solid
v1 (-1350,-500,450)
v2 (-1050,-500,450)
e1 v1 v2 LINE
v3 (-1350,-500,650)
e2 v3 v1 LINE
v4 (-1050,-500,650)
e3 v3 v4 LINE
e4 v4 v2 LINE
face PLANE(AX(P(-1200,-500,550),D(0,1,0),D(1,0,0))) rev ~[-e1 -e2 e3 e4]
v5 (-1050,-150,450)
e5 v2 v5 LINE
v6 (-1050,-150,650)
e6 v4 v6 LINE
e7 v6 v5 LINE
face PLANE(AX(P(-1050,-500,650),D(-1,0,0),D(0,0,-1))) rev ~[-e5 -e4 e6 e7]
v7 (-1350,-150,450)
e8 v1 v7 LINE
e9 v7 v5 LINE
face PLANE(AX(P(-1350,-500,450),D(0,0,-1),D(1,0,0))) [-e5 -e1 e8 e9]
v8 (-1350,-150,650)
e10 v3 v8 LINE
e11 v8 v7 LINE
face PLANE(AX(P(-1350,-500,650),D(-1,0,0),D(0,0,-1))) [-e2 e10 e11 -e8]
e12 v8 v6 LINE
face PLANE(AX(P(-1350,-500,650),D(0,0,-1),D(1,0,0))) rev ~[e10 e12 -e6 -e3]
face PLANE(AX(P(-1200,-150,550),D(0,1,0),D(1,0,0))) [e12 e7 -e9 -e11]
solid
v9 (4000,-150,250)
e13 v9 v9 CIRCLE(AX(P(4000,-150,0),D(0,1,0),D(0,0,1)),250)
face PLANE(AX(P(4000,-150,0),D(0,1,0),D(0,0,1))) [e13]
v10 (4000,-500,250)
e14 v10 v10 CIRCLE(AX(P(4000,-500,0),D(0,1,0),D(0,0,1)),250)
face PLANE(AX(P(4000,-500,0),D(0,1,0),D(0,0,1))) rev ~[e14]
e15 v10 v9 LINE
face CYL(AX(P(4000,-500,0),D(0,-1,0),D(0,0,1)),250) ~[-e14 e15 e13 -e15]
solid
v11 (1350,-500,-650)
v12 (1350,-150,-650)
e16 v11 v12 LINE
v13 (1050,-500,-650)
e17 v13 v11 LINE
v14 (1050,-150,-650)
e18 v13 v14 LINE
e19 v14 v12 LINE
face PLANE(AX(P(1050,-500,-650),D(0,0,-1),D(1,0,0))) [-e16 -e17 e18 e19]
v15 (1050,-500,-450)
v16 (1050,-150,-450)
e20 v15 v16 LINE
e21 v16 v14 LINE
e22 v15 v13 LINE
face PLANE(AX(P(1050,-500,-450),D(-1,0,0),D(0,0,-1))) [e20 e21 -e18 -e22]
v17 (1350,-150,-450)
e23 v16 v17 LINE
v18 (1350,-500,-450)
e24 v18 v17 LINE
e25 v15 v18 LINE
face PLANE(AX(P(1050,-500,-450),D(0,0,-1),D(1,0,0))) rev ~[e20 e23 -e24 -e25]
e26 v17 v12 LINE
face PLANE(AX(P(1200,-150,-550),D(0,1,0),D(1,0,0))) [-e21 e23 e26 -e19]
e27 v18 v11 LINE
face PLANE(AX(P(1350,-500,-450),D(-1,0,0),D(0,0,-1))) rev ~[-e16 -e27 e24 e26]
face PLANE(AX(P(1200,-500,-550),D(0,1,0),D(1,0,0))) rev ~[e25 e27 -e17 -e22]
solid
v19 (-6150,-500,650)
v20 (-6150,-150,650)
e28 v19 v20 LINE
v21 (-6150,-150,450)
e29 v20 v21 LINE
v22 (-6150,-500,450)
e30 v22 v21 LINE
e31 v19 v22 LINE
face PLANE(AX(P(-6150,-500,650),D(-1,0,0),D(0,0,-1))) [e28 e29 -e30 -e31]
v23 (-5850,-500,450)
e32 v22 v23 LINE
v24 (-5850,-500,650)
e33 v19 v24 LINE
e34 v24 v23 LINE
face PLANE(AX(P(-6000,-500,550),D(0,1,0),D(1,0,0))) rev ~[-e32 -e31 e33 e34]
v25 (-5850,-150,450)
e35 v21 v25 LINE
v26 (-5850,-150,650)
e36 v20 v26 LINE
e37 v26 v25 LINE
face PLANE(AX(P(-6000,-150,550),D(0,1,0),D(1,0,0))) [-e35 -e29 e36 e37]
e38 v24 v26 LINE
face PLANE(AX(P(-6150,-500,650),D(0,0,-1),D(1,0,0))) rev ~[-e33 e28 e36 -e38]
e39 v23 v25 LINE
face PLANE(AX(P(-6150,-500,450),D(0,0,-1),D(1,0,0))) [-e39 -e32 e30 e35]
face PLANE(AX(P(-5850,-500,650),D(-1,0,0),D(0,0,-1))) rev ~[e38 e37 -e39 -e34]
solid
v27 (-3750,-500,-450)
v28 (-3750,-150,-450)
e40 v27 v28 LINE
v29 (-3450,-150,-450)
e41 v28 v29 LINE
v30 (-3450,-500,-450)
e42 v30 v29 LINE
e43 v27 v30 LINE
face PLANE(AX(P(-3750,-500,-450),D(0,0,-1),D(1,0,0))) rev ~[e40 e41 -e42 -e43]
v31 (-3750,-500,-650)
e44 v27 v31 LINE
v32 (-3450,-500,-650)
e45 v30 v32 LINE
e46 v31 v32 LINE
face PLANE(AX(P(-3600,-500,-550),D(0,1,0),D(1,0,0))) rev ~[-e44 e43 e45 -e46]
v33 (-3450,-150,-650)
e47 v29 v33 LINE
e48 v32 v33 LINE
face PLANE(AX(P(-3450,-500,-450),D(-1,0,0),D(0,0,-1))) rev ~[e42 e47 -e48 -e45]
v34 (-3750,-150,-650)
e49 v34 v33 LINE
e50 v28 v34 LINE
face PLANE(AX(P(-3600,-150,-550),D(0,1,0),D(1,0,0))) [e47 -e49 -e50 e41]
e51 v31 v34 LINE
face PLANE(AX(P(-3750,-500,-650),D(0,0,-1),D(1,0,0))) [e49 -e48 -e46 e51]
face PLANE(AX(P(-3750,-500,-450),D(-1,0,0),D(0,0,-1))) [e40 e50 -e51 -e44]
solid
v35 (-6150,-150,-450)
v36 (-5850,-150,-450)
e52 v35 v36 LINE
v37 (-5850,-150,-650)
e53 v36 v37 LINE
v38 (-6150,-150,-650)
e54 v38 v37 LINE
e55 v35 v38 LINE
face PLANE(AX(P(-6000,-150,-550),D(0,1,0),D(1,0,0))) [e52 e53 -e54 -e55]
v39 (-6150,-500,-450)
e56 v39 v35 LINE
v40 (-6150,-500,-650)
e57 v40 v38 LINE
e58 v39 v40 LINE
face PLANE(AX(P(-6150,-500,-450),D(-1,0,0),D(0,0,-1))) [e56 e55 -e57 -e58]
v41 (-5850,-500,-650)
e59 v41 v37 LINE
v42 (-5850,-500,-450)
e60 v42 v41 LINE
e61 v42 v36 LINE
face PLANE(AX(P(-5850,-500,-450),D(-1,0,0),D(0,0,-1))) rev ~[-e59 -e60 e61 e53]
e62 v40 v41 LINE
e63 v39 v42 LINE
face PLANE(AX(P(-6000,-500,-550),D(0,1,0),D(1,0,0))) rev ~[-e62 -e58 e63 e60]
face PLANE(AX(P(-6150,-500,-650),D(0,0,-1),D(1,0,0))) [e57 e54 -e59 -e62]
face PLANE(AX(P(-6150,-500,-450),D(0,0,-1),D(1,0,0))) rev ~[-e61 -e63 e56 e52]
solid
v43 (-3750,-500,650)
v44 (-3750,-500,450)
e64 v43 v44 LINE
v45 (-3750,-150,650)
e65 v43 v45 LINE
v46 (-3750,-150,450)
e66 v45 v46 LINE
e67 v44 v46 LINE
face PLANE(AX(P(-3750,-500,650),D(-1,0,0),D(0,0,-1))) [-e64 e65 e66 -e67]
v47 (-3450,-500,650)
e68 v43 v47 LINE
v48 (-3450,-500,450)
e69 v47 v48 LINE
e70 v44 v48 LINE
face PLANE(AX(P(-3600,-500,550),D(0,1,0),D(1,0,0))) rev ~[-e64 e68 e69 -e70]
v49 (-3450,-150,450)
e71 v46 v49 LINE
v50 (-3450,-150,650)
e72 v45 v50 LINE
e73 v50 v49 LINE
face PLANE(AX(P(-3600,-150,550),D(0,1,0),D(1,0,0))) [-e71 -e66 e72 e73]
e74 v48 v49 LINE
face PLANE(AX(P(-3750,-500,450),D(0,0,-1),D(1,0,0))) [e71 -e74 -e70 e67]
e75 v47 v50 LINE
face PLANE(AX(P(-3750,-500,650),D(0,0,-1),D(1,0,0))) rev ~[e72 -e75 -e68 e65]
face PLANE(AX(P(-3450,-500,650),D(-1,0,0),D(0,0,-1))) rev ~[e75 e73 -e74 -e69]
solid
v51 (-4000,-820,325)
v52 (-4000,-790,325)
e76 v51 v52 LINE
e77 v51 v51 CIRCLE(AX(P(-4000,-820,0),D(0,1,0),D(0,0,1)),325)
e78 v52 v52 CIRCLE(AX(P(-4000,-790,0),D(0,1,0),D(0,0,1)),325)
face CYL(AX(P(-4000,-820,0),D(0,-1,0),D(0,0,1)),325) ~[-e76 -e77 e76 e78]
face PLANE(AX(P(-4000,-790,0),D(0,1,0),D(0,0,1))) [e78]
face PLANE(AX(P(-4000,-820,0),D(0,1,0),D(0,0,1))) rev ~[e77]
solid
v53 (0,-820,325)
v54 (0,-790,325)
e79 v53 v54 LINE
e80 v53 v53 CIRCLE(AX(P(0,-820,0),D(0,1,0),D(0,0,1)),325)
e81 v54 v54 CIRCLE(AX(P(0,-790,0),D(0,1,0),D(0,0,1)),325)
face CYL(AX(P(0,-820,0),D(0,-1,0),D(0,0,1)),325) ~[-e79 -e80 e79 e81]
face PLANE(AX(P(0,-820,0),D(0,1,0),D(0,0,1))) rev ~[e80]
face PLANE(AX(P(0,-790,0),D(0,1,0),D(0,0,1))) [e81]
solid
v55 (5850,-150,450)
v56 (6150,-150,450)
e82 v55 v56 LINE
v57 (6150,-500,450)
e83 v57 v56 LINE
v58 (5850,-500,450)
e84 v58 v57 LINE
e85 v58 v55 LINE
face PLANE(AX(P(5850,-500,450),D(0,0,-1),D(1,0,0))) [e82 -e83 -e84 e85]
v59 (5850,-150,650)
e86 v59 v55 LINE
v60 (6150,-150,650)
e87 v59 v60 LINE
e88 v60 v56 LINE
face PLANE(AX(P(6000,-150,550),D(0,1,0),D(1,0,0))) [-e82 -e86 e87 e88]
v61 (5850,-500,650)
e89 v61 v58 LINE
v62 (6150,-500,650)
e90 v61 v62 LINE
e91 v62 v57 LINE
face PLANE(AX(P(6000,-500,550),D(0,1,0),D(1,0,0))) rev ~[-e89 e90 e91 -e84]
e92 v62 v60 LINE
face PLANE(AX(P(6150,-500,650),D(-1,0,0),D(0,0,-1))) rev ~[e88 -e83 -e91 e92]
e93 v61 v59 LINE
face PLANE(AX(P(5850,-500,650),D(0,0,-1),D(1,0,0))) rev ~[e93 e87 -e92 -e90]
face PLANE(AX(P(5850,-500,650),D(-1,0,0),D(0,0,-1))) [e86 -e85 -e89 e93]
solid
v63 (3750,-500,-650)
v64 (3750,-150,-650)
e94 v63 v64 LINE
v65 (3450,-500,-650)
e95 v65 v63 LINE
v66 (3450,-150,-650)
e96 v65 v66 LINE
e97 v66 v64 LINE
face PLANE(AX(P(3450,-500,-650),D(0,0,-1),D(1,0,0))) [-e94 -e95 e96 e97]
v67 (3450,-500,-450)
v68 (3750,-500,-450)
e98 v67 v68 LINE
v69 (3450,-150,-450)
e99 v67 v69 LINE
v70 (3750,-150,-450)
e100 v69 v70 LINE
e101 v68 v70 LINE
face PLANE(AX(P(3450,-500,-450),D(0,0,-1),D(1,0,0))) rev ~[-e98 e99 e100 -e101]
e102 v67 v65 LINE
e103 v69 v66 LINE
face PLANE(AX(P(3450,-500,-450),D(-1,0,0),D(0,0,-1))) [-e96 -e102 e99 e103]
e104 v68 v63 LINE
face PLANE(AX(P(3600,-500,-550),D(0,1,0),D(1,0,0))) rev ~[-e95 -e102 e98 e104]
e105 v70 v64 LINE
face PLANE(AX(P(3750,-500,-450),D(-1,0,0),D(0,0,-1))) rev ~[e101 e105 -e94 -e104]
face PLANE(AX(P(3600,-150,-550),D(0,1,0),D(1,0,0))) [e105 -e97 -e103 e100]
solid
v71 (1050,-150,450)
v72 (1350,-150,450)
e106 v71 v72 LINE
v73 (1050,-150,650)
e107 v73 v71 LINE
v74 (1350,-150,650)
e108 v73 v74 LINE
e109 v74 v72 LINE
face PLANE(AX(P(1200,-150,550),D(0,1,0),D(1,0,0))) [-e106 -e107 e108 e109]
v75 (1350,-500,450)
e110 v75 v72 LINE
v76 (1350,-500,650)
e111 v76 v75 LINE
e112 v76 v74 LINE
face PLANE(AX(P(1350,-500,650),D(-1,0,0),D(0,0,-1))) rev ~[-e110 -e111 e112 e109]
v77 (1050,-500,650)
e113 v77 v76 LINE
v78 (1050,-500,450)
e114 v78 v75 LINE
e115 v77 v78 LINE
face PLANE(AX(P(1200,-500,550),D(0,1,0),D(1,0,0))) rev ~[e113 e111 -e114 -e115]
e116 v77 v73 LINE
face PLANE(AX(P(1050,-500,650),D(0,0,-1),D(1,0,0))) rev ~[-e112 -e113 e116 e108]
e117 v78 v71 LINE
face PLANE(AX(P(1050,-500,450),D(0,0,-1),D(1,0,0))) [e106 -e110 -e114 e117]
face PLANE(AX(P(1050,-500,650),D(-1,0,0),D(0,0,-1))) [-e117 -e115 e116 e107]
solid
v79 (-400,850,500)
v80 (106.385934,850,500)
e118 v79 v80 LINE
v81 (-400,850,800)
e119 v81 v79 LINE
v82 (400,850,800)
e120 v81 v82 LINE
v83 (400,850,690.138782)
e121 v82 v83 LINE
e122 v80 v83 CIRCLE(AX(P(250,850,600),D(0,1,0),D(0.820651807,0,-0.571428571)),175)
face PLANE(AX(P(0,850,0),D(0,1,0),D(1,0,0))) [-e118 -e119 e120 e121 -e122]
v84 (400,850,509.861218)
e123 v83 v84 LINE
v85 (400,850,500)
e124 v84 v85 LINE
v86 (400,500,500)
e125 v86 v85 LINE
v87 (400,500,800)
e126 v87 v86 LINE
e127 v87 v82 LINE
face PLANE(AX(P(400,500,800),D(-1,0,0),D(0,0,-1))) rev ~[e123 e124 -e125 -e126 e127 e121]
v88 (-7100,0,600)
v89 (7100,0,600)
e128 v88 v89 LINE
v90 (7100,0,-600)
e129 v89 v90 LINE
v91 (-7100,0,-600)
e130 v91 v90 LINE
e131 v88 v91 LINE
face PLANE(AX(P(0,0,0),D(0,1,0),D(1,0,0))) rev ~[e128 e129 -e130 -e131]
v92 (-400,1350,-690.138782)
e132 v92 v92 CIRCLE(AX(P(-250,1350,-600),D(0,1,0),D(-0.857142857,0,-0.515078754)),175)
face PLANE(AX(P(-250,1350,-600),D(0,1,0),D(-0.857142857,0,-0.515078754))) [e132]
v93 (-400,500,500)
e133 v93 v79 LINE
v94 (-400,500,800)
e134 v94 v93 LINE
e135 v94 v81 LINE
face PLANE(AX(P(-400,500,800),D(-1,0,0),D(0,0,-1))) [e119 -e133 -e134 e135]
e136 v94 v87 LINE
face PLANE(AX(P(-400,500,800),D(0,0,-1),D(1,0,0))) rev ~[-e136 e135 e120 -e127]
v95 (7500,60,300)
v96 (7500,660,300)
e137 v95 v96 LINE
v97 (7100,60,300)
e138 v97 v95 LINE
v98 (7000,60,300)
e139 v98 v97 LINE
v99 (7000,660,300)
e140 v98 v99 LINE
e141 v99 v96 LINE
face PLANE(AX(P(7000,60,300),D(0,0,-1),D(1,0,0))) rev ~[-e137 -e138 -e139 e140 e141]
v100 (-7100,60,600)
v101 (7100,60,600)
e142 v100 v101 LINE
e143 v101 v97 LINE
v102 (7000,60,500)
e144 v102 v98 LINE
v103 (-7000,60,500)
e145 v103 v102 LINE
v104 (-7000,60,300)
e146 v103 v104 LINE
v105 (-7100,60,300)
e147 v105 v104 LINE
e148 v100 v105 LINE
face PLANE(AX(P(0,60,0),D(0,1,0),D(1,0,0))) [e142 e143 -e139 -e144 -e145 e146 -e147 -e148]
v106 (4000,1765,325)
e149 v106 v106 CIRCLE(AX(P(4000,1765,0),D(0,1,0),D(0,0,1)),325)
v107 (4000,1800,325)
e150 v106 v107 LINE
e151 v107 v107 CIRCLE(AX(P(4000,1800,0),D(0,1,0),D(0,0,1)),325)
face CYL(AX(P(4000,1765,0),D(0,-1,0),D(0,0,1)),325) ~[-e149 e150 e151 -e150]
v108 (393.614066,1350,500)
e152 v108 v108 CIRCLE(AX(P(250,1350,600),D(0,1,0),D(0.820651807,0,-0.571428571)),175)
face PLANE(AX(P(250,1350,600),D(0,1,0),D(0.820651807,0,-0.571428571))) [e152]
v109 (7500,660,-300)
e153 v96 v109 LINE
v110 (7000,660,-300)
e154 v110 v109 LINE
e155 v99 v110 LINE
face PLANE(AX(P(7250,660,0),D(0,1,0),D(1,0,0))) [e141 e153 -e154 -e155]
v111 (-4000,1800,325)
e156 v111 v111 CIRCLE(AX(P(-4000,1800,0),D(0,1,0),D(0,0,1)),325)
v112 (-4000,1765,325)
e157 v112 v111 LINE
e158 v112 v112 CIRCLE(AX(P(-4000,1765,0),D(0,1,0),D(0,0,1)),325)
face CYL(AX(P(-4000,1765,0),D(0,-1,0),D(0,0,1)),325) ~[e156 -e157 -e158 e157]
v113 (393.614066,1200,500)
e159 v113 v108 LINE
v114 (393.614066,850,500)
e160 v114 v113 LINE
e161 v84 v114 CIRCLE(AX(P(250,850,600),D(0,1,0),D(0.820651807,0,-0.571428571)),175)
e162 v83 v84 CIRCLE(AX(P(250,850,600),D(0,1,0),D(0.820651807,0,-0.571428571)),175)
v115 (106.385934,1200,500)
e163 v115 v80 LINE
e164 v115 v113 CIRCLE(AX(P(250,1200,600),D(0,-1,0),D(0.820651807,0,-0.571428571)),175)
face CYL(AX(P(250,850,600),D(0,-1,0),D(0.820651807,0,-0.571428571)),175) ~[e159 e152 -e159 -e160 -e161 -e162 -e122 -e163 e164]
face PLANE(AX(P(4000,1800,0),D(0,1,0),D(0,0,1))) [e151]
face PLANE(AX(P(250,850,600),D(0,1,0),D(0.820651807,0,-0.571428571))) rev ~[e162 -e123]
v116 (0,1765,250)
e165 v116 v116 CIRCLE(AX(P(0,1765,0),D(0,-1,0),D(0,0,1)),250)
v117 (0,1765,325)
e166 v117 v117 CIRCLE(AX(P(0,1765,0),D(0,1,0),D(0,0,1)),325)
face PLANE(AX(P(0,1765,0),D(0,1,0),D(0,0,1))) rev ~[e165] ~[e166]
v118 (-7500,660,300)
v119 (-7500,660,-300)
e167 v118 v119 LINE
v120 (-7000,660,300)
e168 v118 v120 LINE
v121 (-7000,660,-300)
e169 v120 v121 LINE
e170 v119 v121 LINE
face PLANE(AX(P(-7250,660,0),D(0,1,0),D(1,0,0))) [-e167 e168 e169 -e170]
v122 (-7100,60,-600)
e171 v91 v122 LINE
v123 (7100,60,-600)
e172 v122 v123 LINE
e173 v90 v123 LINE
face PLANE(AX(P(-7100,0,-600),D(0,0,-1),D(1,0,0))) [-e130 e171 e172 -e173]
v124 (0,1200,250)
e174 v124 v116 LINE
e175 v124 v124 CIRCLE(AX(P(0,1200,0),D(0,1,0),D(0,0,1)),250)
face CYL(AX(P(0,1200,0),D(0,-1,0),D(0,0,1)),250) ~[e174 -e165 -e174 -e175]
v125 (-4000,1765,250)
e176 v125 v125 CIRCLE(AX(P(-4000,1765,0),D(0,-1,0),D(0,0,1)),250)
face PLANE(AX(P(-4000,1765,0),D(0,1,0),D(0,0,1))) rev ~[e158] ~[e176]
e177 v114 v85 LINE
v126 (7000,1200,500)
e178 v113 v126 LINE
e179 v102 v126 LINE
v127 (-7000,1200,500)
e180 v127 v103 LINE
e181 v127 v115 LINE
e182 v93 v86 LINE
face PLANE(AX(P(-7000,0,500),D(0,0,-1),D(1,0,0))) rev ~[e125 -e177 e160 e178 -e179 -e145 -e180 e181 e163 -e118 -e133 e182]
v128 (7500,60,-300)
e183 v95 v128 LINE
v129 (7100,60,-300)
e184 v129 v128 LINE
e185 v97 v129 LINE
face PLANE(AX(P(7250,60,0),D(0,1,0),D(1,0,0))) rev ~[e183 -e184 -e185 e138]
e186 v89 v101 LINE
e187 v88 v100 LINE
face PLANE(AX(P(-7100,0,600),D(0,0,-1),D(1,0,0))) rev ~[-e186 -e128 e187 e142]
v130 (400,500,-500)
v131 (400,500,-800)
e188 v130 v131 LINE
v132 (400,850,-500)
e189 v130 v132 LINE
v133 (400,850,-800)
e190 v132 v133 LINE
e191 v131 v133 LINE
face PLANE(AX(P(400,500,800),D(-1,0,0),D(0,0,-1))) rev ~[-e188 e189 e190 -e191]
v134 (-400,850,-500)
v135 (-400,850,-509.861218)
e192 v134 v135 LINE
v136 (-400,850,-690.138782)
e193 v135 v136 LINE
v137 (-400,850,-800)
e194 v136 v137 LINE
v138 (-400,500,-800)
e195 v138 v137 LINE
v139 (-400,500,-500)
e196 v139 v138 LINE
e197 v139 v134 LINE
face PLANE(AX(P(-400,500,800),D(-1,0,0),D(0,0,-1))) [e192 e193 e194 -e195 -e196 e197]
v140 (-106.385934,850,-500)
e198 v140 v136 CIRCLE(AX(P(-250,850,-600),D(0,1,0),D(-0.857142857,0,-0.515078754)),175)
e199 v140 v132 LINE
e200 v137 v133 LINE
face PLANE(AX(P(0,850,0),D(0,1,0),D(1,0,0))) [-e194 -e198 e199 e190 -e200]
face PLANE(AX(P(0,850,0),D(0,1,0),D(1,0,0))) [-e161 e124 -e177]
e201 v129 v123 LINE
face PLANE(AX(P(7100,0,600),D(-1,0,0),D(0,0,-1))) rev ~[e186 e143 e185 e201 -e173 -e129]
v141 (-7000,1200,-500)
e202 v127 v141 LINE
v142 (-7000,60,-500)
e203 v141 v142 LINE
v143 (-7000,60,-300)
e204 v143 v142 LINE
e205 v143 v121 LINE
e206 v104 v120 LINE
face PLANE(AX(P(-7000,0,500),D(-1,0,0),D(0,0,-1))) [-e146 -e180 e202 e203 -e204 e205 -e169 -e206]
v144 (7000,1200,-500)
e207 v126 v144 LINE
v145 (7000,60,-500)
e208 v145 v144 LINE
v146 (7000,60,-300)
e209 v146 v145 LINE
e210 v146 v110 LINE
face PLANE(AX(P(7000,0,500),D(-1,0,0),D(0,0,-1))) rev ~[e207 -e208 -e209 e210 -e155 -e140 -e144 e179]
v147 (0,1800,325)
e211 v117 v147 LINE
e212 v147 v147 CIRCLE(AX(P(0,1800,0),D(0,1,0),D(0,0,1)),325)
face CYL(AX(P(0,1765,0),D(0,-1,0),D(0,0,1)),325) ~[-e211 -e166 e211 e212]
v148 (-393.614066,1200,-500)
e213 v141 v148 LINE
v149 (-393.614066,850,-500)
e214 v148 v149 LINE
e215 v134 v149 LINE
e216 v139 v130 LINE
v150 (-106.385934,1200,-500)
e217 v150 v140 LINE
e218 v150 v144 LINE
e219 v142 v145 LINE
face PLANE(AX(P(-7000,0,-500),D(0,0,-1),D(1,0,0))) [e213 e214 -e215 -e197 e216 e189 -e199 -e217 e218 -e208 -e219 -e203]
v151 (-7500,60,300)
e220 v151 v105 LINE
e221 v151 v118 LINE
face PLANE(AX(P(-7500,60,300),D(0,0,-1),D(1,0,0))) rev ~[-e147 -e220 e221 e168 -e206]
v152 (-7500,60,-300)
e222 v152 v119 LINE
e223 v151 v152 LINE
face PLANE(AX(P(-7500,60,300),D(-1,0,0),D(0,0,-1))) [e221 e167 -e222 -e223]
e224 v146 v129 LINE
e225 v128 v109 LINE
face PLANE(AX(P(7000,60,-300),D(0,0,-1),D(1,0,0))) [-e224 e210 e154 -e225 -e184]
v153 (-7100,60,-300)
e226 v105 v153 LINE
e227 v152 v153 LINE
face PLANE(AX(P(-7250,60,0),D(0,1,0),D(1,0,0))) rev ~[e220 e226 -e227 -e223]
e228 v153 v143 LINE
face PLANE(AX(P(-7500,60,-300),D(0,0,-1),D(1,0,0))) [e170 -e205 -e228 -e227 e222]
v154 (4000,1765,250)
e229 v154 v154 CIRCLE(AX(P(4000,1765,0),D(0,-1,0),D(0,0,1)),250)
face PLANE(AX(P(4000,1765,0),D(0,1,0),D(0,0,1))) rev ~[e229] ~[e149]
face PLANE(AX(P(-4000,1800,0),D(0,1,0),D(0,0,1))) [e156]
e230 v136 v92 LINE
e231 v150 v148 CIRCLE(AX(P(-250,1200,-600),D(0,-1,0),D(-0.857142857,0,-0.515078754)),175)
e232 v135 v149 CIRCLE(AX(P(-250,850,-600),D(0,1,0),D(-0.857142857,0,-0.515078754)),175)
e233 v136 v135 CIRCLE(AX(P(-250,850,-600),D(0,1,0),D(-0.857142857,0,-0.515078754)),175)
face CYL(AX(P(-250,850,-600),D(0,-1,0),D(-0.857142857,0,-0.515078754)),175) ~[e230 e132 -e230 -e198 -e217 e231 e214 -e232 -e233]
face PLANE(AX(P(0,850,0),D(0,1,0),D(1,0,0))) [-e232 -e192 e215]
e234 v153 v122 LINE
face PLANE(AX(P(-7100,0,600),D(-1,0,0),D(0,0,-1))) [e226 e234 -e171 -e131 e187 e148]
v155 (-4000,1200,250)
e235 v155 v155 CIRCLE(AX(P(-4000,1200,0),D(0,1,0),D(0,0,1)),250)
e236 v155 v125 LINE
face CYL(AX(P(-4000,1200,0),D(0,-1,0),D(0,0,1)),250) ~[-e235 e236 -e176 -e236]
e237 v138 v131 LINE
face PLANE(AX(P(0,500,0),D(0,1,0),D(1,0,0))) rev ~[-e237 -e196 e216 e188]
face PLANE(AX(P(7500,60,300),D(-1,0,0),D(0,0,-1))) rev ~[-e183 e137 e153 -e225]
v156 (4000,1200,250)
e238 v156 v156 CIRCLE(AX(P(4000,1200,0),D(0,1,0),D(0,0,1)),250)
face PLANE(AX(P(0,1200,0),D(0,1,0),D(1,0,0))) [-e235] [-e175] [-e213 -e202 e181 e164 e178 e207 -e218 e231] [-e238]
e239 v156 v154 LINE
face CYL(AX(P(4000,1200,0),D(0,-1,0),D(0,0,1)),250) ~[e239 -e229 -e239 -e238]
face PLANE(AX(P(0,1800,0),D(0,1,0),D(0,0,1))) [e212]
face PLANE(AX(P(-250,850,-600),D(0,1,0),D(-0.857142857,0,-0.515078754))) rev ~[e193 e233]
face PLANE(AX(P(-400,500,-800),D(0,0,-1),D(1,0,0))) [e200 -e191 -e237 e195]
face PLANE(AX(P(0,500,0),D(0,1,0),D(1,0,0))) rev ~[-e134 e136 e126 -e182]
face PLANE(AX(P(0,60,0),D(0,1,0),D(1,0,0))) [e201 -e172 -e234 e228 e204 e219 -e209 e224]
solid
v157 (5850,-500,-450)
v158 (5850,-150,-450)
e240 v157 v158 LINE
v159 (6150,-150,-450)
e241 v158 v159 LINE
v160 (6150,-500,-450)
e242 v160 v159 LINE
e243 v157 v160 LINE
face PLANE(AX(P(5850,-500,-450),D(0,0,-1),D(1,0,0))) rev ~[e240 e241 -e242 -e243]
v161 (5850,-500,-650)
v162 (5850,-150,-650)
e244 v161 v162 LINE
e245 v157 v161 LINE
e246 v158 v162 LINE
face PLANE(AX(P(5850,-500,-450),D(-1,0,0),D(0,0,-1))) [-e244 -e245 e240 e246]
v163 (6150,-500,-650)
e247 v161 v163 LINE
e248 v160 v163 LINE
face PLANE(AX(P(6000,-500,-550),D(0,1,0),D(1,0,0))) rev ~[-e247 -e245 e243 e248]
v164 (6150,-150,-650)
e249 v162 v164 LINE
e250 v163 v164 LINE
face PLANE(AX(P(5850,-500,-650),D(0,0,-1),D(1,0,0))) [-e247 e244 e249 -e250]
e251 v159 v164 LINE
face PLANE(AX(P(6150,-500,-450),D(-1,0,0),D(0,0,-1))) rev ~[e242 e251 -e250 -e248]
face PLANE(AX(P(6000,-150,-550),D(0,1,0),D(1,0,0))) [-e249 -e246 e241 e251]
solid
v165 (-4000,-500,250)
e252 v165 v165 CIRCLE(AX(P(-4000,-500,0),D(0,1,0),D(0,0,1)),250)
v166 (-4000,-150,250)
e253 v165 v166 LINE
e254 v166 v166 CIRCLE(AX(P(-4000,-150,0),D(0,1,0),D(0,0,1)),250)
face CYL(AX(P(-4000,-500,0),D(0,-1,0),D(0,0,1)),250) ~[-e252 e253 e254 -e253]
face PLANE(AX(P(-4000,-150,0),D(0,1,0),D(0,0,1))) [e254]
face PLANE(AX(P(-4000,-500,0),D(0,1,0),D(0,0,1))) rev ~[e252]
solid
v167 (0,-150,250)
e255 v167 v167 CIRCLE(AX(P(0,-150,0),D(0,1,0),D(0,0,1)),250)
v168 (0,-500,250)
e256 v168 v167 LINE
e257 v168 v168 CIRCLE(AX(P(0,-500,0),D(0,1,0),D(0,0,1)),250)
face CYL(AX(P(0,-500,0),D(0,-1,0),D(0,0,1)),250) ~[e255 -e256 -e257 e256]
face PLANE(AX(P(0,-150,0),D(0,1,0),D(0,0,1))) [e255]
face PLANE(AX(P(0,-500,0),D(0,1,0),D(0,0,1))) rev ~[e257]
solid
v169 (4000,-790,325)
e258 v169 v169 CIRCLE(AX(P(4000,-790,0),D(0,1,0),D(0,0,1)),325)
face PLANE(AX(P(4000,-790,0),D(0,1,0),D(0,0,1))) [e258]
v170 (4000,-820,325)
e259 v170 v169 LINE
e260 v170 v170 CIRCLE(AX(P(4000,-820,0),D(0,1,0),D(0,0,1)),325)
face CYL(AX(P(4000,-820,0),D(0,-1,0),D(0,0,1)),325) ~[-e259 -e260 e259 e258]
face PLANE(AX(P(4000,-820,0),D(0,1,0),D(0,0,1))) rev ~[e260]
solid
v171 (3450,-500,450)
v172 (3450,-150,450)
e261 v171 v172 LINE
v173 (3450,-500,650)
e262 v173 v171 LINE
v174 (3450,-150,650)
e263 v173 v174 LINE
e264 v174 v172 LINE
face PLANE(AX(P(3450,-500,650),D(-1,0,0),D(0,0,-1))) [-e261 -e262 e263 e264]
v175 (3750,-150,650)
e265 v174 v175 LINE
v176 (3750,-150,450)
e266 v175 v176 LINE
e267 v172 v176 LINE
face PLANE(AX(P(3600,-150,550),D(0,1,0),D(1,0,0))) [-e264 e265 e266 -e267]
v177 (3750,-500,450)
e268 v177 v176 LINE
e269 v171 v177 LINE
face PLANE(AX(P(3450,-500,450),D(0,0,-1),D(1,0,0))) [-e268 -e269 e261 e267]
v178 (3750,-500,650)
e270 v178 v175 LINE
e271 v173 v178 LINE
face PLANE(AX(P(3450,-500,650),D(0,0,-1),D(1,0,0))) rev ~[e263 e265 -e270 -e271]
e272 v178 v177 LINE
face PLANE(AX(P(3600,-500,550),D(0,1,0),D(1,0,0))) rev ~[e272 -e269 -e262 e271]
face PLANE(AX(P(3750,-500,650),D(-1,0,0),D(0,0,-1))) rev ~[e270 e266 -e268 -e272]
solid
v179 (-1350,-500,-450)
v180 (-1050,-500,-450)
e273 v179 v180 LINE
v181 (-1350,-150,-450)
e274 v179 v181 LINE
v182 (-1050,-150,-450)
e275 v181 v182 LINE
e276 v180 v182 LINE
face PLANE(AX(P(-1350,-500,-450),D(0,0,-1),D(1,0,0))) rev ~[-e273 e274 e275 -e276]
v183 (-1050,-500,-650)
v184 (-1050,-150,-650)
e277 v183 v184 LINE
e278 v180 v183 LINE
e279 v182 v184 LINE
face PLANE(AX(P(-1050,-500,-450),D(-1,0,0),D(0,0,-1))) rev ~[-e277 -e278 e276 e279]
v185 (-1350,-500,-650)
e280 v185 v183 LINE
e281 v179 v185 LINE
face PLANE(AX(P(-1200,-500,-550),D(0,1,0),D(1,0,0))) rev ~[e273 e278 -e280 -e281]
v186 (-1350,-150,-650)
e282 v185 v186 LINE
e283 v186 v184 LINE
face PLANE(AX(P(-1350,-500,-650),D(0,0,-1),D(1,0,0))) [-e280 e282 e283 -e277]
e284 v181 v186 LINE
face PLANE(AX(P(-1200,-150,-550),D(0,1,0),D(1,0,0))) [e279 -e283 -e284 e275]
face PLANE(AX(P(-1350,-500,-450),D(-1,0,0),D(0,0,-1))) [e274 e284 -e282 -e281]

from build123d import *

# Parameters (mm, degrees)
SKETCH1_W               = 14000
SKETCH1_H               = 1000
BOSS_EXTRUDE1_DEPTH     = 500
BOSS_EXTRUDE2_START     = -500
SKETCH2_R               = 250
BOSS_EXTRUDE2_DEPTH     = 350
BOSS_EXTRUDE2_2_DEPTH   = 350
BOSS_EXTRUDE2_3_DEPTH   = 350
BOSS_EXTRUDE3_START     = -820
SKETCH3_R               = 325
BOSS_EXTRUDE3_DEPTH     = 30
BOSS_EXTRUDE3_2_DEPTH   = 30
BOSS_EXTRUDE3_3_DEPTH   = 30
SKETCH4_W               = 14200
SKETCH4_H               = 1200
BOSS_EXTRUDE4_DEPTH     = 60
BOSS_EXTRUDE5_START     = 60
SKETCH5_W               = 14000
SKETCH5_H               = 1000
BOSS_EXTRUDE5_DEPTH     = 1140
BOSS_EXTRUDE6_START     = 1200
SKETCH6_R               = 250
BOSS_EXTRUDE6_DEPTH     = 600
BOSS_EXTRUDE7_START     = 1765
SKETCH7_R               = 325
BOSS_EXTRUDE7_DEPTH     = 35
BOSS_EXTRUDE8_START     = 60
SKETCH8_W               = 500
SKETCH8_H               = 600
BOSS_EXTRUDE8_DEPTH     = 600
BOSS_EXTRUDE9_START     = 500
SKETCH9_W               = 800
SKETCH9_H               = 1600
BOSS_EXTRUDE9_DEPTH     = 350
BOSS_EXTRUDE10_START    = 850
SKETCH10_R              = 175
BOSS_EXTRUDE10_DEPTH    = 500
BOSS_EXTRUDE11_START    = -500
SKETCH11_W              = 300
SKETCH11_H              = 200
BOSS_EXTRUDE11_DEPTH    = 350
BOSS_EXTRUDE11_2_DEPTH  = 350
BOSS_EXTRUDE11_3_DEPTH  = 350
BOSS_EXTRUDE11_4_DEPTH  = 350
BOSS_EXTRUDE11_5_DEPTH  = 350
BOSS_EXTRUDE11_6_DEPTH  = 350
BOSS_EXTRUDE11_7_DEPTH  = 350
BOSS_EXTRUDE11_8_DEPTH  = 350
BOSS_EXTRUDE11_9_DEPTH  = 350
BOSS_EXTRUDE11_10_DEPTH = 350
BOSS_EXTRUDE11_11_DEPTH = 350
BOSS_EXTRUDE11_12_DEPTH = 350


with BuildPart() as part:
    # Sketch1 → Boss-Extrude1 (new body)
    with BuildSketch(Plane(origin=(0, 0, 0), x_dir=(1, 0, 0), z_dir=(0, 1, 0))):
        Rectangle(SKETCH1_W, SKETCH1_H)
    extrude(amount=BOSS_EXTRUDE1_DEPTH)

    # Sketch4 → Boss-Extrude4 (add)
    with BuildSketch(Plane(origin=(0, 0, 0), x_dir=(1, 0, 0), z_dir=(0, 1, 0))):
        Rectangle(SKETCH4_W, SKETCH4_H)
    extrude(amount=BOSS_EXTRUDE4_DEPTH)

    # Sketch5 → Boss-Extrude5 (add)
    with BuildSketch(Plane(origin=(0, 0, 0), x_dir=(1, 0, 0), z_dir=(0, 1, 0)).offset(BOSS_EXTRUDE5_START)):
        Rectangle(SKETCH5_W, SKETCH5_H)
    extrude(amount=BOSS_EXTRUDE5_DEPTH)

    # Sketch6 → Boss-Extrude6 (add)
    with BuildSketch(Plane(origin=(0, 0, 0), x_dir=(1, 0, 0), z_dir=(0, 1, 0)).offset(BOSS_EXTRUDE6_START)):
        with Locations(Location((-4000, 0, 0), (0, 0, 270))):
            Circle(SKETCH6_R)
        with Locations(Location((0, 0, 0), (0, 0, 270))):
            Circle(SKETCH6_R)
        with Locations(Location((4000, 0, 0), (0, 0, 270))):
            Circle(SKETCH6_R)
    extrude(amount=BOSS_EXTRUDE6_DEPTH)

    # Sketch7 → Boss-Extrude7 (add)
    with BuildSketch(Plane(origin=(0, 0, 0), x_dir=(1, 0, 0), z_dir=(0, 1, 0)).offset(BOSS_EXTRUDE7_START)):
        with Locations(Location((-4000, 0, 0), (0, 0, 270))):
            Circle(SKETCH7_R)
        with Locations(Location((0, 0, 0), (0, 0, 270))):
            Circle(SKETCH7_R)
        with Locations(Location((4000, 0, 0), (0, 0, 270))):
            Circle(SKETCH7_R)
    extrude(amount=BOSS_EXTRUDE7_DEPTH)

    # Sketch8 → Boss-Extrude8 (add)
    with BuildSketch(Plane(origin=(0, 0, 0), x_dir=(1, 0, 0), z_dir=(0, 1, 0)).offset(BOSS_EXTRUDE8_START)):
        with Locations((-7250, 0)):
            Rectangle(SKETCH8_W, SKETCH8_H)
        with Locations((7250, 0)):
            Rectangle(SKETCH8_W, SKETCH8_H)
    extrude(amount=BOSS_EXTRUDE8_DEPTH)

    # Sketch9 → Boss-Extrude9 (add)
    with BuildSketch(Plane(origin=(0, 0, 0), x_dir=(1, 0, 0), z_dir=(0, 1, 0)).offset(BOSS_EXTRUDE9_START)):
        Rectangle(SKETCH9_W, SKETCH9_H)
    extrude(amount=BOSS_EXTRUDE9_DEPTH)

    # Sketch10 → Boss-Extrude10 (add)
    with BuildSketch(Plane(origin=(0, 0, 0), x_dir=(1, 0, 0), z_dir=(0, 1, 0)).offset(BOSS_EXTRUDE10_START)):
        with Locations(Location((-250, 600, 0), (0, 0, 148.997280866))):
            Circle(SKETCH10_R)
        with Locations(Location((250, -600, 0), (0, 0, 34.849904579))):
            Circle(SKETCH10_R)
    extrude(amount=BOSS_EXTRUDE10_DEPTH)


with BuildPart() as body_2:
    # Sketch2 → Boss-Extrude2 (new body)
    with BuildSketch(Plane(origin=(0, 0, 0), x_dir=(1, 0, 0), z_dir=(0, 1, 0)).offset(BOSS_EXTRUDE2_START)):
        with Locations(Location((-4000, 0, 0), (0, 0, 270))):
            Circle(SKETCH2_R)
    extrude(amount=BOSS_EXTRUDE2_DEPTH)


with BuildPart() as body_3:
    # Sketch2 → Boss-Extrude2 2 (new body)
    with BuildSketch(Plane(origin=(0, 0, 0), x_dir=(1, 0, 0), z_dir=(0, 1, 0)).offset(BOSS_EXTRUDE2_START)):
        with Locations(Location((0, 0, 0), (0, 0, 270))):
            Circle(SKETCH2_R)
    extrude(amount=BOSS_EXTRUDE2_2_DEPTH)


with BuildPart() as body_4:
    # Sketch2 → Boss-Extrude2 3 (new body)
    with BuildSketch(Plane(origin=(0, 0, 0), x_dir=(1, 0, 0), z_dir=(0, 1, 0)).offset(BOSS_EXTRUDE2_START)):
        with Locations(Location((4000, 0, 0), (0, 0, 270))):
            Circle(SKETCH2_R)
    extrude(amount=BOSS_EXTRUDE2_3_DEPTH)


with BuildPart() as body_5:
    # Sketch3 → Boss-Extrude3 (new body)
    with BuildSketch(Plane(origin=(0, 0, 0), x_dir=(1, 0, 0), z_dir=(0, 1, 0)).offset(BOSS_EXTRUDE3_START)):
        with Locations(Location((-4000, 0, 0), (0, 0, 270))):
            Circle(SKETCH3_R)
    extrude(amount=BOSS_EXTRUDE3_DEPTH)


with BuildPart() as body_6:
    # Sketch3 → Boss-Extrude3 2 (new body)
    with BuildSketch(Plane(origin=(0, 0, 0), x_dir=(1, 0, 0), z_dir=(0, 1, 0)).offset(BOSS_EXTRUDE3_START)):
        with Locations(Location((0, 0, 0), (0, 0, 270))):
            Circle(SKETCH3_R)
    extrude(amount=BOSS_EXTRUDE3_2_DEPTH)


with BuildPart() as body_7:
    # Sketch3 → Boss-Extrude3 3 (new body)
    with BuildSketch(Plane(origin=(0, 0, 0), x_dir=(1, 0, 0), z_dir=(0, 1, 0)).offset(BOSS_EXTRUDE3_START)):
        with Locations(Location((4000, 0, 0), (0, 0, 270))):
            Circle(SKETCH3_R)
    extrude(amount=BOSS_EXTRUDE3_3_DEPTH)


with BuildPart() as body_8:
    # Sketch11 → Boss-Extrude11 (new body)
    with BuildSketch(Plane(origin=(0, 0, 0), x_dir=(1, 0, 0), z_dir=(0, 1, 0)).offset(BOSS_EXTRUDE11_START)):
        with Locations((-6000, -550)):
            Rectangle(SKETCH11_W, SKETCH11_H)
    extrude(amount=BOSS_EXTRUDE11_DEPTH)


with BuildPart() as body_9:
    # Sketch11 → Boss-Extrude11 2 (new body)
    with BuildSketch(Plane(origin=(0, 0, 0), x_dir=(1, 0, 0), z_dir=(0, 1, 0)).offset(BOSS_EXTRUDE11_START)):
        with Locations((-6000, 550)):
            Rectangle(SKETCH11_W, SKETCH11_H)
    extrude(amount=BOSS_EXTRUDE11_2_DEPTH)


with BuildPart() as body_10:
    # Sketch11 → Boss-Extrude11 3 (new body)
    with BuildSketch(Plane(origin=(0, 0, 0), x_dir=(1, 0, 0), z_dir=(0, 1, 0)).offset(BOSS_EXTRUDE11_START)):
        with Locations((-3600, -550)):
            Rectangle(SKETCH11_W, SKETCH11_H)
    extrude(amount=BOSS_EXTRUDE11_3_DEPTH)


with BuildPart() as body_11:
    # Sketch11 → Boss-Extrude11 4 (new body)
    with BuildSketch(Plane(origin=(0, 0, 0), x_dir=(1, 0, 0), z_dir=(0, 1, 0)).offset(BOSS_EXTRUDE11_START)):
        with Locations((-3600, 550)):
            Rectangle(SKETCH11_W, SKETCH11_H)
    extrude(amount=BOSS_EXTRUDE11_4_DEPTH)


with BuildPart() as body_12:
    # Sketch11 → Boss-Extrude11 5 (new body)
    with BuildSketch(Plane(origin=(0, 0, 0), x_dir=(1, 0, 0), z_dir=(0, 1, 0)).offset(BOSS_EXTRUDE11_START)):
        with Locations((-1200, -550)):
            Rectangle(SKETCH11_W, SKETCH11_H)
    extrude(amount=BOSS_EXTRUDE11_5_DEPTH)


with BuildPart() as body_13:
    # Sketch11 → Boss-Extrude11 6 (new body)
    with BuildSketch(Plane(origin=(0, 0, 0), x_dir=(1, 0, 0), z_dir=(0, 1, 0)).offset(BOSS_EXTRUDE11_START)):
        with Locations((-1200, 550)):
            Rectangle(SKETCH11_W, SKETCH11_H)
    extrude(amount=BOSS_EXTRUDE11_6_DEPTH)


with BuildPart() as body_14:
    # Sketch11 → Boss-Extrude11 7 (new body)
    with BuildSketch(Plane(origin=(0, 0, 0), x_dir=(1, 0, 0), z_dir=(0, 1, 0)).offset(BOSS_EXTRUDE11_START)):
        with Locations((1200, -550)):
            Rectangle(SKETCH11_W, SKETCH11_H)
    extrude(amount=BOSS_EXTRUDE11_7_DEPTH)


with BuildPart() as body_15:
    # Sketch11 → Boss-Extrude11 8 (new body)
    with BuildSketch(Plane(origin=(0, 0, 0), x_dir=(1, 0, 0), z_dir=(0, 1, 0)).offset(BOSS_EXTRUDE11_START)):
        with Locations((1200, 550)):
            Rectangle(SKETCH11_W, SKETCH11_H)
    extrude(amount=BOSS_EXTRUDE11_8_DEPTH)


with BuildPart() as body_16:
    # Sketch11 → Boss-Extrude11 9 (new body)
    with BuildSketch(Plane(origin=(0, 0, 0), x_dir=(1, 0, 0), z_dir=(0, 1, 0)).offset(BOSS_EXTRUDE11_START)):
        with Locations((3600, -550)):
            Rectangle(SKETCH11_W, SKETCH11_H)
    extrude(amount=BOSS_EXTRUDE11_9_DEPTH)


with BuildPart() as body_17:
    # Sketch11 → Boss-Extrude11 10 (new body)
    with BuildSketch(Plane(origin=(0, 0, 0), x_dir=(1, 0, 0), z_dir=(0, 1, 0)).offset(BOSS_EXTRUDE11_START)):
        with Locations((3600, 550)):
            Rectangle(SKETCH11_W, SKETCH11_H)
    extrude(amount=BOSS_EXTRUDE11_10_DEPTH)


with BuildPart() as body_18:
    # Sketch11 → Boss-Extrude11 11 (new body)
    with BuildSketch(Plane(origin=(0, 0, 0), x_dir=(1, 0, 0), z_dir=(0, 1, 0)).offset(BOSS_EXTRUDE11_START)):
        with Locations((6000, -550)):
            Rectangle(SKETCH11_W, SKETCH11_H)
    extrude(amount=BOSS_EXTRUDE11_11_DEPTH)


with BuildPart() as body_19:
    # Sketch11 → Boss-Extrude11 12 (new body)
    with BuildSketch(Plane(origin=(0, 0, 0), x_dir=(1, 0, 0), z_dir=(0, 1, 0)).offset(BOSS_EXTRUDE11_START)):
        with Locations((6000, 550)):
            Rectangle(SKETCH11_W, SKETCH11_H)
    extrude(amount=BOSS_EXTRUDE11_12_DEPTH)


solid = Compound([part.part, body_2.part, body_3.part, body_4.part, body_5.part, body_6.part, body_7.part, body_8.part, body_9.part, body_10.part, body_11.part, body_12.part, body_13.part, body_14.part, body_15.part, body_16.part, body_17.part, body_18.part, body_19.part])
